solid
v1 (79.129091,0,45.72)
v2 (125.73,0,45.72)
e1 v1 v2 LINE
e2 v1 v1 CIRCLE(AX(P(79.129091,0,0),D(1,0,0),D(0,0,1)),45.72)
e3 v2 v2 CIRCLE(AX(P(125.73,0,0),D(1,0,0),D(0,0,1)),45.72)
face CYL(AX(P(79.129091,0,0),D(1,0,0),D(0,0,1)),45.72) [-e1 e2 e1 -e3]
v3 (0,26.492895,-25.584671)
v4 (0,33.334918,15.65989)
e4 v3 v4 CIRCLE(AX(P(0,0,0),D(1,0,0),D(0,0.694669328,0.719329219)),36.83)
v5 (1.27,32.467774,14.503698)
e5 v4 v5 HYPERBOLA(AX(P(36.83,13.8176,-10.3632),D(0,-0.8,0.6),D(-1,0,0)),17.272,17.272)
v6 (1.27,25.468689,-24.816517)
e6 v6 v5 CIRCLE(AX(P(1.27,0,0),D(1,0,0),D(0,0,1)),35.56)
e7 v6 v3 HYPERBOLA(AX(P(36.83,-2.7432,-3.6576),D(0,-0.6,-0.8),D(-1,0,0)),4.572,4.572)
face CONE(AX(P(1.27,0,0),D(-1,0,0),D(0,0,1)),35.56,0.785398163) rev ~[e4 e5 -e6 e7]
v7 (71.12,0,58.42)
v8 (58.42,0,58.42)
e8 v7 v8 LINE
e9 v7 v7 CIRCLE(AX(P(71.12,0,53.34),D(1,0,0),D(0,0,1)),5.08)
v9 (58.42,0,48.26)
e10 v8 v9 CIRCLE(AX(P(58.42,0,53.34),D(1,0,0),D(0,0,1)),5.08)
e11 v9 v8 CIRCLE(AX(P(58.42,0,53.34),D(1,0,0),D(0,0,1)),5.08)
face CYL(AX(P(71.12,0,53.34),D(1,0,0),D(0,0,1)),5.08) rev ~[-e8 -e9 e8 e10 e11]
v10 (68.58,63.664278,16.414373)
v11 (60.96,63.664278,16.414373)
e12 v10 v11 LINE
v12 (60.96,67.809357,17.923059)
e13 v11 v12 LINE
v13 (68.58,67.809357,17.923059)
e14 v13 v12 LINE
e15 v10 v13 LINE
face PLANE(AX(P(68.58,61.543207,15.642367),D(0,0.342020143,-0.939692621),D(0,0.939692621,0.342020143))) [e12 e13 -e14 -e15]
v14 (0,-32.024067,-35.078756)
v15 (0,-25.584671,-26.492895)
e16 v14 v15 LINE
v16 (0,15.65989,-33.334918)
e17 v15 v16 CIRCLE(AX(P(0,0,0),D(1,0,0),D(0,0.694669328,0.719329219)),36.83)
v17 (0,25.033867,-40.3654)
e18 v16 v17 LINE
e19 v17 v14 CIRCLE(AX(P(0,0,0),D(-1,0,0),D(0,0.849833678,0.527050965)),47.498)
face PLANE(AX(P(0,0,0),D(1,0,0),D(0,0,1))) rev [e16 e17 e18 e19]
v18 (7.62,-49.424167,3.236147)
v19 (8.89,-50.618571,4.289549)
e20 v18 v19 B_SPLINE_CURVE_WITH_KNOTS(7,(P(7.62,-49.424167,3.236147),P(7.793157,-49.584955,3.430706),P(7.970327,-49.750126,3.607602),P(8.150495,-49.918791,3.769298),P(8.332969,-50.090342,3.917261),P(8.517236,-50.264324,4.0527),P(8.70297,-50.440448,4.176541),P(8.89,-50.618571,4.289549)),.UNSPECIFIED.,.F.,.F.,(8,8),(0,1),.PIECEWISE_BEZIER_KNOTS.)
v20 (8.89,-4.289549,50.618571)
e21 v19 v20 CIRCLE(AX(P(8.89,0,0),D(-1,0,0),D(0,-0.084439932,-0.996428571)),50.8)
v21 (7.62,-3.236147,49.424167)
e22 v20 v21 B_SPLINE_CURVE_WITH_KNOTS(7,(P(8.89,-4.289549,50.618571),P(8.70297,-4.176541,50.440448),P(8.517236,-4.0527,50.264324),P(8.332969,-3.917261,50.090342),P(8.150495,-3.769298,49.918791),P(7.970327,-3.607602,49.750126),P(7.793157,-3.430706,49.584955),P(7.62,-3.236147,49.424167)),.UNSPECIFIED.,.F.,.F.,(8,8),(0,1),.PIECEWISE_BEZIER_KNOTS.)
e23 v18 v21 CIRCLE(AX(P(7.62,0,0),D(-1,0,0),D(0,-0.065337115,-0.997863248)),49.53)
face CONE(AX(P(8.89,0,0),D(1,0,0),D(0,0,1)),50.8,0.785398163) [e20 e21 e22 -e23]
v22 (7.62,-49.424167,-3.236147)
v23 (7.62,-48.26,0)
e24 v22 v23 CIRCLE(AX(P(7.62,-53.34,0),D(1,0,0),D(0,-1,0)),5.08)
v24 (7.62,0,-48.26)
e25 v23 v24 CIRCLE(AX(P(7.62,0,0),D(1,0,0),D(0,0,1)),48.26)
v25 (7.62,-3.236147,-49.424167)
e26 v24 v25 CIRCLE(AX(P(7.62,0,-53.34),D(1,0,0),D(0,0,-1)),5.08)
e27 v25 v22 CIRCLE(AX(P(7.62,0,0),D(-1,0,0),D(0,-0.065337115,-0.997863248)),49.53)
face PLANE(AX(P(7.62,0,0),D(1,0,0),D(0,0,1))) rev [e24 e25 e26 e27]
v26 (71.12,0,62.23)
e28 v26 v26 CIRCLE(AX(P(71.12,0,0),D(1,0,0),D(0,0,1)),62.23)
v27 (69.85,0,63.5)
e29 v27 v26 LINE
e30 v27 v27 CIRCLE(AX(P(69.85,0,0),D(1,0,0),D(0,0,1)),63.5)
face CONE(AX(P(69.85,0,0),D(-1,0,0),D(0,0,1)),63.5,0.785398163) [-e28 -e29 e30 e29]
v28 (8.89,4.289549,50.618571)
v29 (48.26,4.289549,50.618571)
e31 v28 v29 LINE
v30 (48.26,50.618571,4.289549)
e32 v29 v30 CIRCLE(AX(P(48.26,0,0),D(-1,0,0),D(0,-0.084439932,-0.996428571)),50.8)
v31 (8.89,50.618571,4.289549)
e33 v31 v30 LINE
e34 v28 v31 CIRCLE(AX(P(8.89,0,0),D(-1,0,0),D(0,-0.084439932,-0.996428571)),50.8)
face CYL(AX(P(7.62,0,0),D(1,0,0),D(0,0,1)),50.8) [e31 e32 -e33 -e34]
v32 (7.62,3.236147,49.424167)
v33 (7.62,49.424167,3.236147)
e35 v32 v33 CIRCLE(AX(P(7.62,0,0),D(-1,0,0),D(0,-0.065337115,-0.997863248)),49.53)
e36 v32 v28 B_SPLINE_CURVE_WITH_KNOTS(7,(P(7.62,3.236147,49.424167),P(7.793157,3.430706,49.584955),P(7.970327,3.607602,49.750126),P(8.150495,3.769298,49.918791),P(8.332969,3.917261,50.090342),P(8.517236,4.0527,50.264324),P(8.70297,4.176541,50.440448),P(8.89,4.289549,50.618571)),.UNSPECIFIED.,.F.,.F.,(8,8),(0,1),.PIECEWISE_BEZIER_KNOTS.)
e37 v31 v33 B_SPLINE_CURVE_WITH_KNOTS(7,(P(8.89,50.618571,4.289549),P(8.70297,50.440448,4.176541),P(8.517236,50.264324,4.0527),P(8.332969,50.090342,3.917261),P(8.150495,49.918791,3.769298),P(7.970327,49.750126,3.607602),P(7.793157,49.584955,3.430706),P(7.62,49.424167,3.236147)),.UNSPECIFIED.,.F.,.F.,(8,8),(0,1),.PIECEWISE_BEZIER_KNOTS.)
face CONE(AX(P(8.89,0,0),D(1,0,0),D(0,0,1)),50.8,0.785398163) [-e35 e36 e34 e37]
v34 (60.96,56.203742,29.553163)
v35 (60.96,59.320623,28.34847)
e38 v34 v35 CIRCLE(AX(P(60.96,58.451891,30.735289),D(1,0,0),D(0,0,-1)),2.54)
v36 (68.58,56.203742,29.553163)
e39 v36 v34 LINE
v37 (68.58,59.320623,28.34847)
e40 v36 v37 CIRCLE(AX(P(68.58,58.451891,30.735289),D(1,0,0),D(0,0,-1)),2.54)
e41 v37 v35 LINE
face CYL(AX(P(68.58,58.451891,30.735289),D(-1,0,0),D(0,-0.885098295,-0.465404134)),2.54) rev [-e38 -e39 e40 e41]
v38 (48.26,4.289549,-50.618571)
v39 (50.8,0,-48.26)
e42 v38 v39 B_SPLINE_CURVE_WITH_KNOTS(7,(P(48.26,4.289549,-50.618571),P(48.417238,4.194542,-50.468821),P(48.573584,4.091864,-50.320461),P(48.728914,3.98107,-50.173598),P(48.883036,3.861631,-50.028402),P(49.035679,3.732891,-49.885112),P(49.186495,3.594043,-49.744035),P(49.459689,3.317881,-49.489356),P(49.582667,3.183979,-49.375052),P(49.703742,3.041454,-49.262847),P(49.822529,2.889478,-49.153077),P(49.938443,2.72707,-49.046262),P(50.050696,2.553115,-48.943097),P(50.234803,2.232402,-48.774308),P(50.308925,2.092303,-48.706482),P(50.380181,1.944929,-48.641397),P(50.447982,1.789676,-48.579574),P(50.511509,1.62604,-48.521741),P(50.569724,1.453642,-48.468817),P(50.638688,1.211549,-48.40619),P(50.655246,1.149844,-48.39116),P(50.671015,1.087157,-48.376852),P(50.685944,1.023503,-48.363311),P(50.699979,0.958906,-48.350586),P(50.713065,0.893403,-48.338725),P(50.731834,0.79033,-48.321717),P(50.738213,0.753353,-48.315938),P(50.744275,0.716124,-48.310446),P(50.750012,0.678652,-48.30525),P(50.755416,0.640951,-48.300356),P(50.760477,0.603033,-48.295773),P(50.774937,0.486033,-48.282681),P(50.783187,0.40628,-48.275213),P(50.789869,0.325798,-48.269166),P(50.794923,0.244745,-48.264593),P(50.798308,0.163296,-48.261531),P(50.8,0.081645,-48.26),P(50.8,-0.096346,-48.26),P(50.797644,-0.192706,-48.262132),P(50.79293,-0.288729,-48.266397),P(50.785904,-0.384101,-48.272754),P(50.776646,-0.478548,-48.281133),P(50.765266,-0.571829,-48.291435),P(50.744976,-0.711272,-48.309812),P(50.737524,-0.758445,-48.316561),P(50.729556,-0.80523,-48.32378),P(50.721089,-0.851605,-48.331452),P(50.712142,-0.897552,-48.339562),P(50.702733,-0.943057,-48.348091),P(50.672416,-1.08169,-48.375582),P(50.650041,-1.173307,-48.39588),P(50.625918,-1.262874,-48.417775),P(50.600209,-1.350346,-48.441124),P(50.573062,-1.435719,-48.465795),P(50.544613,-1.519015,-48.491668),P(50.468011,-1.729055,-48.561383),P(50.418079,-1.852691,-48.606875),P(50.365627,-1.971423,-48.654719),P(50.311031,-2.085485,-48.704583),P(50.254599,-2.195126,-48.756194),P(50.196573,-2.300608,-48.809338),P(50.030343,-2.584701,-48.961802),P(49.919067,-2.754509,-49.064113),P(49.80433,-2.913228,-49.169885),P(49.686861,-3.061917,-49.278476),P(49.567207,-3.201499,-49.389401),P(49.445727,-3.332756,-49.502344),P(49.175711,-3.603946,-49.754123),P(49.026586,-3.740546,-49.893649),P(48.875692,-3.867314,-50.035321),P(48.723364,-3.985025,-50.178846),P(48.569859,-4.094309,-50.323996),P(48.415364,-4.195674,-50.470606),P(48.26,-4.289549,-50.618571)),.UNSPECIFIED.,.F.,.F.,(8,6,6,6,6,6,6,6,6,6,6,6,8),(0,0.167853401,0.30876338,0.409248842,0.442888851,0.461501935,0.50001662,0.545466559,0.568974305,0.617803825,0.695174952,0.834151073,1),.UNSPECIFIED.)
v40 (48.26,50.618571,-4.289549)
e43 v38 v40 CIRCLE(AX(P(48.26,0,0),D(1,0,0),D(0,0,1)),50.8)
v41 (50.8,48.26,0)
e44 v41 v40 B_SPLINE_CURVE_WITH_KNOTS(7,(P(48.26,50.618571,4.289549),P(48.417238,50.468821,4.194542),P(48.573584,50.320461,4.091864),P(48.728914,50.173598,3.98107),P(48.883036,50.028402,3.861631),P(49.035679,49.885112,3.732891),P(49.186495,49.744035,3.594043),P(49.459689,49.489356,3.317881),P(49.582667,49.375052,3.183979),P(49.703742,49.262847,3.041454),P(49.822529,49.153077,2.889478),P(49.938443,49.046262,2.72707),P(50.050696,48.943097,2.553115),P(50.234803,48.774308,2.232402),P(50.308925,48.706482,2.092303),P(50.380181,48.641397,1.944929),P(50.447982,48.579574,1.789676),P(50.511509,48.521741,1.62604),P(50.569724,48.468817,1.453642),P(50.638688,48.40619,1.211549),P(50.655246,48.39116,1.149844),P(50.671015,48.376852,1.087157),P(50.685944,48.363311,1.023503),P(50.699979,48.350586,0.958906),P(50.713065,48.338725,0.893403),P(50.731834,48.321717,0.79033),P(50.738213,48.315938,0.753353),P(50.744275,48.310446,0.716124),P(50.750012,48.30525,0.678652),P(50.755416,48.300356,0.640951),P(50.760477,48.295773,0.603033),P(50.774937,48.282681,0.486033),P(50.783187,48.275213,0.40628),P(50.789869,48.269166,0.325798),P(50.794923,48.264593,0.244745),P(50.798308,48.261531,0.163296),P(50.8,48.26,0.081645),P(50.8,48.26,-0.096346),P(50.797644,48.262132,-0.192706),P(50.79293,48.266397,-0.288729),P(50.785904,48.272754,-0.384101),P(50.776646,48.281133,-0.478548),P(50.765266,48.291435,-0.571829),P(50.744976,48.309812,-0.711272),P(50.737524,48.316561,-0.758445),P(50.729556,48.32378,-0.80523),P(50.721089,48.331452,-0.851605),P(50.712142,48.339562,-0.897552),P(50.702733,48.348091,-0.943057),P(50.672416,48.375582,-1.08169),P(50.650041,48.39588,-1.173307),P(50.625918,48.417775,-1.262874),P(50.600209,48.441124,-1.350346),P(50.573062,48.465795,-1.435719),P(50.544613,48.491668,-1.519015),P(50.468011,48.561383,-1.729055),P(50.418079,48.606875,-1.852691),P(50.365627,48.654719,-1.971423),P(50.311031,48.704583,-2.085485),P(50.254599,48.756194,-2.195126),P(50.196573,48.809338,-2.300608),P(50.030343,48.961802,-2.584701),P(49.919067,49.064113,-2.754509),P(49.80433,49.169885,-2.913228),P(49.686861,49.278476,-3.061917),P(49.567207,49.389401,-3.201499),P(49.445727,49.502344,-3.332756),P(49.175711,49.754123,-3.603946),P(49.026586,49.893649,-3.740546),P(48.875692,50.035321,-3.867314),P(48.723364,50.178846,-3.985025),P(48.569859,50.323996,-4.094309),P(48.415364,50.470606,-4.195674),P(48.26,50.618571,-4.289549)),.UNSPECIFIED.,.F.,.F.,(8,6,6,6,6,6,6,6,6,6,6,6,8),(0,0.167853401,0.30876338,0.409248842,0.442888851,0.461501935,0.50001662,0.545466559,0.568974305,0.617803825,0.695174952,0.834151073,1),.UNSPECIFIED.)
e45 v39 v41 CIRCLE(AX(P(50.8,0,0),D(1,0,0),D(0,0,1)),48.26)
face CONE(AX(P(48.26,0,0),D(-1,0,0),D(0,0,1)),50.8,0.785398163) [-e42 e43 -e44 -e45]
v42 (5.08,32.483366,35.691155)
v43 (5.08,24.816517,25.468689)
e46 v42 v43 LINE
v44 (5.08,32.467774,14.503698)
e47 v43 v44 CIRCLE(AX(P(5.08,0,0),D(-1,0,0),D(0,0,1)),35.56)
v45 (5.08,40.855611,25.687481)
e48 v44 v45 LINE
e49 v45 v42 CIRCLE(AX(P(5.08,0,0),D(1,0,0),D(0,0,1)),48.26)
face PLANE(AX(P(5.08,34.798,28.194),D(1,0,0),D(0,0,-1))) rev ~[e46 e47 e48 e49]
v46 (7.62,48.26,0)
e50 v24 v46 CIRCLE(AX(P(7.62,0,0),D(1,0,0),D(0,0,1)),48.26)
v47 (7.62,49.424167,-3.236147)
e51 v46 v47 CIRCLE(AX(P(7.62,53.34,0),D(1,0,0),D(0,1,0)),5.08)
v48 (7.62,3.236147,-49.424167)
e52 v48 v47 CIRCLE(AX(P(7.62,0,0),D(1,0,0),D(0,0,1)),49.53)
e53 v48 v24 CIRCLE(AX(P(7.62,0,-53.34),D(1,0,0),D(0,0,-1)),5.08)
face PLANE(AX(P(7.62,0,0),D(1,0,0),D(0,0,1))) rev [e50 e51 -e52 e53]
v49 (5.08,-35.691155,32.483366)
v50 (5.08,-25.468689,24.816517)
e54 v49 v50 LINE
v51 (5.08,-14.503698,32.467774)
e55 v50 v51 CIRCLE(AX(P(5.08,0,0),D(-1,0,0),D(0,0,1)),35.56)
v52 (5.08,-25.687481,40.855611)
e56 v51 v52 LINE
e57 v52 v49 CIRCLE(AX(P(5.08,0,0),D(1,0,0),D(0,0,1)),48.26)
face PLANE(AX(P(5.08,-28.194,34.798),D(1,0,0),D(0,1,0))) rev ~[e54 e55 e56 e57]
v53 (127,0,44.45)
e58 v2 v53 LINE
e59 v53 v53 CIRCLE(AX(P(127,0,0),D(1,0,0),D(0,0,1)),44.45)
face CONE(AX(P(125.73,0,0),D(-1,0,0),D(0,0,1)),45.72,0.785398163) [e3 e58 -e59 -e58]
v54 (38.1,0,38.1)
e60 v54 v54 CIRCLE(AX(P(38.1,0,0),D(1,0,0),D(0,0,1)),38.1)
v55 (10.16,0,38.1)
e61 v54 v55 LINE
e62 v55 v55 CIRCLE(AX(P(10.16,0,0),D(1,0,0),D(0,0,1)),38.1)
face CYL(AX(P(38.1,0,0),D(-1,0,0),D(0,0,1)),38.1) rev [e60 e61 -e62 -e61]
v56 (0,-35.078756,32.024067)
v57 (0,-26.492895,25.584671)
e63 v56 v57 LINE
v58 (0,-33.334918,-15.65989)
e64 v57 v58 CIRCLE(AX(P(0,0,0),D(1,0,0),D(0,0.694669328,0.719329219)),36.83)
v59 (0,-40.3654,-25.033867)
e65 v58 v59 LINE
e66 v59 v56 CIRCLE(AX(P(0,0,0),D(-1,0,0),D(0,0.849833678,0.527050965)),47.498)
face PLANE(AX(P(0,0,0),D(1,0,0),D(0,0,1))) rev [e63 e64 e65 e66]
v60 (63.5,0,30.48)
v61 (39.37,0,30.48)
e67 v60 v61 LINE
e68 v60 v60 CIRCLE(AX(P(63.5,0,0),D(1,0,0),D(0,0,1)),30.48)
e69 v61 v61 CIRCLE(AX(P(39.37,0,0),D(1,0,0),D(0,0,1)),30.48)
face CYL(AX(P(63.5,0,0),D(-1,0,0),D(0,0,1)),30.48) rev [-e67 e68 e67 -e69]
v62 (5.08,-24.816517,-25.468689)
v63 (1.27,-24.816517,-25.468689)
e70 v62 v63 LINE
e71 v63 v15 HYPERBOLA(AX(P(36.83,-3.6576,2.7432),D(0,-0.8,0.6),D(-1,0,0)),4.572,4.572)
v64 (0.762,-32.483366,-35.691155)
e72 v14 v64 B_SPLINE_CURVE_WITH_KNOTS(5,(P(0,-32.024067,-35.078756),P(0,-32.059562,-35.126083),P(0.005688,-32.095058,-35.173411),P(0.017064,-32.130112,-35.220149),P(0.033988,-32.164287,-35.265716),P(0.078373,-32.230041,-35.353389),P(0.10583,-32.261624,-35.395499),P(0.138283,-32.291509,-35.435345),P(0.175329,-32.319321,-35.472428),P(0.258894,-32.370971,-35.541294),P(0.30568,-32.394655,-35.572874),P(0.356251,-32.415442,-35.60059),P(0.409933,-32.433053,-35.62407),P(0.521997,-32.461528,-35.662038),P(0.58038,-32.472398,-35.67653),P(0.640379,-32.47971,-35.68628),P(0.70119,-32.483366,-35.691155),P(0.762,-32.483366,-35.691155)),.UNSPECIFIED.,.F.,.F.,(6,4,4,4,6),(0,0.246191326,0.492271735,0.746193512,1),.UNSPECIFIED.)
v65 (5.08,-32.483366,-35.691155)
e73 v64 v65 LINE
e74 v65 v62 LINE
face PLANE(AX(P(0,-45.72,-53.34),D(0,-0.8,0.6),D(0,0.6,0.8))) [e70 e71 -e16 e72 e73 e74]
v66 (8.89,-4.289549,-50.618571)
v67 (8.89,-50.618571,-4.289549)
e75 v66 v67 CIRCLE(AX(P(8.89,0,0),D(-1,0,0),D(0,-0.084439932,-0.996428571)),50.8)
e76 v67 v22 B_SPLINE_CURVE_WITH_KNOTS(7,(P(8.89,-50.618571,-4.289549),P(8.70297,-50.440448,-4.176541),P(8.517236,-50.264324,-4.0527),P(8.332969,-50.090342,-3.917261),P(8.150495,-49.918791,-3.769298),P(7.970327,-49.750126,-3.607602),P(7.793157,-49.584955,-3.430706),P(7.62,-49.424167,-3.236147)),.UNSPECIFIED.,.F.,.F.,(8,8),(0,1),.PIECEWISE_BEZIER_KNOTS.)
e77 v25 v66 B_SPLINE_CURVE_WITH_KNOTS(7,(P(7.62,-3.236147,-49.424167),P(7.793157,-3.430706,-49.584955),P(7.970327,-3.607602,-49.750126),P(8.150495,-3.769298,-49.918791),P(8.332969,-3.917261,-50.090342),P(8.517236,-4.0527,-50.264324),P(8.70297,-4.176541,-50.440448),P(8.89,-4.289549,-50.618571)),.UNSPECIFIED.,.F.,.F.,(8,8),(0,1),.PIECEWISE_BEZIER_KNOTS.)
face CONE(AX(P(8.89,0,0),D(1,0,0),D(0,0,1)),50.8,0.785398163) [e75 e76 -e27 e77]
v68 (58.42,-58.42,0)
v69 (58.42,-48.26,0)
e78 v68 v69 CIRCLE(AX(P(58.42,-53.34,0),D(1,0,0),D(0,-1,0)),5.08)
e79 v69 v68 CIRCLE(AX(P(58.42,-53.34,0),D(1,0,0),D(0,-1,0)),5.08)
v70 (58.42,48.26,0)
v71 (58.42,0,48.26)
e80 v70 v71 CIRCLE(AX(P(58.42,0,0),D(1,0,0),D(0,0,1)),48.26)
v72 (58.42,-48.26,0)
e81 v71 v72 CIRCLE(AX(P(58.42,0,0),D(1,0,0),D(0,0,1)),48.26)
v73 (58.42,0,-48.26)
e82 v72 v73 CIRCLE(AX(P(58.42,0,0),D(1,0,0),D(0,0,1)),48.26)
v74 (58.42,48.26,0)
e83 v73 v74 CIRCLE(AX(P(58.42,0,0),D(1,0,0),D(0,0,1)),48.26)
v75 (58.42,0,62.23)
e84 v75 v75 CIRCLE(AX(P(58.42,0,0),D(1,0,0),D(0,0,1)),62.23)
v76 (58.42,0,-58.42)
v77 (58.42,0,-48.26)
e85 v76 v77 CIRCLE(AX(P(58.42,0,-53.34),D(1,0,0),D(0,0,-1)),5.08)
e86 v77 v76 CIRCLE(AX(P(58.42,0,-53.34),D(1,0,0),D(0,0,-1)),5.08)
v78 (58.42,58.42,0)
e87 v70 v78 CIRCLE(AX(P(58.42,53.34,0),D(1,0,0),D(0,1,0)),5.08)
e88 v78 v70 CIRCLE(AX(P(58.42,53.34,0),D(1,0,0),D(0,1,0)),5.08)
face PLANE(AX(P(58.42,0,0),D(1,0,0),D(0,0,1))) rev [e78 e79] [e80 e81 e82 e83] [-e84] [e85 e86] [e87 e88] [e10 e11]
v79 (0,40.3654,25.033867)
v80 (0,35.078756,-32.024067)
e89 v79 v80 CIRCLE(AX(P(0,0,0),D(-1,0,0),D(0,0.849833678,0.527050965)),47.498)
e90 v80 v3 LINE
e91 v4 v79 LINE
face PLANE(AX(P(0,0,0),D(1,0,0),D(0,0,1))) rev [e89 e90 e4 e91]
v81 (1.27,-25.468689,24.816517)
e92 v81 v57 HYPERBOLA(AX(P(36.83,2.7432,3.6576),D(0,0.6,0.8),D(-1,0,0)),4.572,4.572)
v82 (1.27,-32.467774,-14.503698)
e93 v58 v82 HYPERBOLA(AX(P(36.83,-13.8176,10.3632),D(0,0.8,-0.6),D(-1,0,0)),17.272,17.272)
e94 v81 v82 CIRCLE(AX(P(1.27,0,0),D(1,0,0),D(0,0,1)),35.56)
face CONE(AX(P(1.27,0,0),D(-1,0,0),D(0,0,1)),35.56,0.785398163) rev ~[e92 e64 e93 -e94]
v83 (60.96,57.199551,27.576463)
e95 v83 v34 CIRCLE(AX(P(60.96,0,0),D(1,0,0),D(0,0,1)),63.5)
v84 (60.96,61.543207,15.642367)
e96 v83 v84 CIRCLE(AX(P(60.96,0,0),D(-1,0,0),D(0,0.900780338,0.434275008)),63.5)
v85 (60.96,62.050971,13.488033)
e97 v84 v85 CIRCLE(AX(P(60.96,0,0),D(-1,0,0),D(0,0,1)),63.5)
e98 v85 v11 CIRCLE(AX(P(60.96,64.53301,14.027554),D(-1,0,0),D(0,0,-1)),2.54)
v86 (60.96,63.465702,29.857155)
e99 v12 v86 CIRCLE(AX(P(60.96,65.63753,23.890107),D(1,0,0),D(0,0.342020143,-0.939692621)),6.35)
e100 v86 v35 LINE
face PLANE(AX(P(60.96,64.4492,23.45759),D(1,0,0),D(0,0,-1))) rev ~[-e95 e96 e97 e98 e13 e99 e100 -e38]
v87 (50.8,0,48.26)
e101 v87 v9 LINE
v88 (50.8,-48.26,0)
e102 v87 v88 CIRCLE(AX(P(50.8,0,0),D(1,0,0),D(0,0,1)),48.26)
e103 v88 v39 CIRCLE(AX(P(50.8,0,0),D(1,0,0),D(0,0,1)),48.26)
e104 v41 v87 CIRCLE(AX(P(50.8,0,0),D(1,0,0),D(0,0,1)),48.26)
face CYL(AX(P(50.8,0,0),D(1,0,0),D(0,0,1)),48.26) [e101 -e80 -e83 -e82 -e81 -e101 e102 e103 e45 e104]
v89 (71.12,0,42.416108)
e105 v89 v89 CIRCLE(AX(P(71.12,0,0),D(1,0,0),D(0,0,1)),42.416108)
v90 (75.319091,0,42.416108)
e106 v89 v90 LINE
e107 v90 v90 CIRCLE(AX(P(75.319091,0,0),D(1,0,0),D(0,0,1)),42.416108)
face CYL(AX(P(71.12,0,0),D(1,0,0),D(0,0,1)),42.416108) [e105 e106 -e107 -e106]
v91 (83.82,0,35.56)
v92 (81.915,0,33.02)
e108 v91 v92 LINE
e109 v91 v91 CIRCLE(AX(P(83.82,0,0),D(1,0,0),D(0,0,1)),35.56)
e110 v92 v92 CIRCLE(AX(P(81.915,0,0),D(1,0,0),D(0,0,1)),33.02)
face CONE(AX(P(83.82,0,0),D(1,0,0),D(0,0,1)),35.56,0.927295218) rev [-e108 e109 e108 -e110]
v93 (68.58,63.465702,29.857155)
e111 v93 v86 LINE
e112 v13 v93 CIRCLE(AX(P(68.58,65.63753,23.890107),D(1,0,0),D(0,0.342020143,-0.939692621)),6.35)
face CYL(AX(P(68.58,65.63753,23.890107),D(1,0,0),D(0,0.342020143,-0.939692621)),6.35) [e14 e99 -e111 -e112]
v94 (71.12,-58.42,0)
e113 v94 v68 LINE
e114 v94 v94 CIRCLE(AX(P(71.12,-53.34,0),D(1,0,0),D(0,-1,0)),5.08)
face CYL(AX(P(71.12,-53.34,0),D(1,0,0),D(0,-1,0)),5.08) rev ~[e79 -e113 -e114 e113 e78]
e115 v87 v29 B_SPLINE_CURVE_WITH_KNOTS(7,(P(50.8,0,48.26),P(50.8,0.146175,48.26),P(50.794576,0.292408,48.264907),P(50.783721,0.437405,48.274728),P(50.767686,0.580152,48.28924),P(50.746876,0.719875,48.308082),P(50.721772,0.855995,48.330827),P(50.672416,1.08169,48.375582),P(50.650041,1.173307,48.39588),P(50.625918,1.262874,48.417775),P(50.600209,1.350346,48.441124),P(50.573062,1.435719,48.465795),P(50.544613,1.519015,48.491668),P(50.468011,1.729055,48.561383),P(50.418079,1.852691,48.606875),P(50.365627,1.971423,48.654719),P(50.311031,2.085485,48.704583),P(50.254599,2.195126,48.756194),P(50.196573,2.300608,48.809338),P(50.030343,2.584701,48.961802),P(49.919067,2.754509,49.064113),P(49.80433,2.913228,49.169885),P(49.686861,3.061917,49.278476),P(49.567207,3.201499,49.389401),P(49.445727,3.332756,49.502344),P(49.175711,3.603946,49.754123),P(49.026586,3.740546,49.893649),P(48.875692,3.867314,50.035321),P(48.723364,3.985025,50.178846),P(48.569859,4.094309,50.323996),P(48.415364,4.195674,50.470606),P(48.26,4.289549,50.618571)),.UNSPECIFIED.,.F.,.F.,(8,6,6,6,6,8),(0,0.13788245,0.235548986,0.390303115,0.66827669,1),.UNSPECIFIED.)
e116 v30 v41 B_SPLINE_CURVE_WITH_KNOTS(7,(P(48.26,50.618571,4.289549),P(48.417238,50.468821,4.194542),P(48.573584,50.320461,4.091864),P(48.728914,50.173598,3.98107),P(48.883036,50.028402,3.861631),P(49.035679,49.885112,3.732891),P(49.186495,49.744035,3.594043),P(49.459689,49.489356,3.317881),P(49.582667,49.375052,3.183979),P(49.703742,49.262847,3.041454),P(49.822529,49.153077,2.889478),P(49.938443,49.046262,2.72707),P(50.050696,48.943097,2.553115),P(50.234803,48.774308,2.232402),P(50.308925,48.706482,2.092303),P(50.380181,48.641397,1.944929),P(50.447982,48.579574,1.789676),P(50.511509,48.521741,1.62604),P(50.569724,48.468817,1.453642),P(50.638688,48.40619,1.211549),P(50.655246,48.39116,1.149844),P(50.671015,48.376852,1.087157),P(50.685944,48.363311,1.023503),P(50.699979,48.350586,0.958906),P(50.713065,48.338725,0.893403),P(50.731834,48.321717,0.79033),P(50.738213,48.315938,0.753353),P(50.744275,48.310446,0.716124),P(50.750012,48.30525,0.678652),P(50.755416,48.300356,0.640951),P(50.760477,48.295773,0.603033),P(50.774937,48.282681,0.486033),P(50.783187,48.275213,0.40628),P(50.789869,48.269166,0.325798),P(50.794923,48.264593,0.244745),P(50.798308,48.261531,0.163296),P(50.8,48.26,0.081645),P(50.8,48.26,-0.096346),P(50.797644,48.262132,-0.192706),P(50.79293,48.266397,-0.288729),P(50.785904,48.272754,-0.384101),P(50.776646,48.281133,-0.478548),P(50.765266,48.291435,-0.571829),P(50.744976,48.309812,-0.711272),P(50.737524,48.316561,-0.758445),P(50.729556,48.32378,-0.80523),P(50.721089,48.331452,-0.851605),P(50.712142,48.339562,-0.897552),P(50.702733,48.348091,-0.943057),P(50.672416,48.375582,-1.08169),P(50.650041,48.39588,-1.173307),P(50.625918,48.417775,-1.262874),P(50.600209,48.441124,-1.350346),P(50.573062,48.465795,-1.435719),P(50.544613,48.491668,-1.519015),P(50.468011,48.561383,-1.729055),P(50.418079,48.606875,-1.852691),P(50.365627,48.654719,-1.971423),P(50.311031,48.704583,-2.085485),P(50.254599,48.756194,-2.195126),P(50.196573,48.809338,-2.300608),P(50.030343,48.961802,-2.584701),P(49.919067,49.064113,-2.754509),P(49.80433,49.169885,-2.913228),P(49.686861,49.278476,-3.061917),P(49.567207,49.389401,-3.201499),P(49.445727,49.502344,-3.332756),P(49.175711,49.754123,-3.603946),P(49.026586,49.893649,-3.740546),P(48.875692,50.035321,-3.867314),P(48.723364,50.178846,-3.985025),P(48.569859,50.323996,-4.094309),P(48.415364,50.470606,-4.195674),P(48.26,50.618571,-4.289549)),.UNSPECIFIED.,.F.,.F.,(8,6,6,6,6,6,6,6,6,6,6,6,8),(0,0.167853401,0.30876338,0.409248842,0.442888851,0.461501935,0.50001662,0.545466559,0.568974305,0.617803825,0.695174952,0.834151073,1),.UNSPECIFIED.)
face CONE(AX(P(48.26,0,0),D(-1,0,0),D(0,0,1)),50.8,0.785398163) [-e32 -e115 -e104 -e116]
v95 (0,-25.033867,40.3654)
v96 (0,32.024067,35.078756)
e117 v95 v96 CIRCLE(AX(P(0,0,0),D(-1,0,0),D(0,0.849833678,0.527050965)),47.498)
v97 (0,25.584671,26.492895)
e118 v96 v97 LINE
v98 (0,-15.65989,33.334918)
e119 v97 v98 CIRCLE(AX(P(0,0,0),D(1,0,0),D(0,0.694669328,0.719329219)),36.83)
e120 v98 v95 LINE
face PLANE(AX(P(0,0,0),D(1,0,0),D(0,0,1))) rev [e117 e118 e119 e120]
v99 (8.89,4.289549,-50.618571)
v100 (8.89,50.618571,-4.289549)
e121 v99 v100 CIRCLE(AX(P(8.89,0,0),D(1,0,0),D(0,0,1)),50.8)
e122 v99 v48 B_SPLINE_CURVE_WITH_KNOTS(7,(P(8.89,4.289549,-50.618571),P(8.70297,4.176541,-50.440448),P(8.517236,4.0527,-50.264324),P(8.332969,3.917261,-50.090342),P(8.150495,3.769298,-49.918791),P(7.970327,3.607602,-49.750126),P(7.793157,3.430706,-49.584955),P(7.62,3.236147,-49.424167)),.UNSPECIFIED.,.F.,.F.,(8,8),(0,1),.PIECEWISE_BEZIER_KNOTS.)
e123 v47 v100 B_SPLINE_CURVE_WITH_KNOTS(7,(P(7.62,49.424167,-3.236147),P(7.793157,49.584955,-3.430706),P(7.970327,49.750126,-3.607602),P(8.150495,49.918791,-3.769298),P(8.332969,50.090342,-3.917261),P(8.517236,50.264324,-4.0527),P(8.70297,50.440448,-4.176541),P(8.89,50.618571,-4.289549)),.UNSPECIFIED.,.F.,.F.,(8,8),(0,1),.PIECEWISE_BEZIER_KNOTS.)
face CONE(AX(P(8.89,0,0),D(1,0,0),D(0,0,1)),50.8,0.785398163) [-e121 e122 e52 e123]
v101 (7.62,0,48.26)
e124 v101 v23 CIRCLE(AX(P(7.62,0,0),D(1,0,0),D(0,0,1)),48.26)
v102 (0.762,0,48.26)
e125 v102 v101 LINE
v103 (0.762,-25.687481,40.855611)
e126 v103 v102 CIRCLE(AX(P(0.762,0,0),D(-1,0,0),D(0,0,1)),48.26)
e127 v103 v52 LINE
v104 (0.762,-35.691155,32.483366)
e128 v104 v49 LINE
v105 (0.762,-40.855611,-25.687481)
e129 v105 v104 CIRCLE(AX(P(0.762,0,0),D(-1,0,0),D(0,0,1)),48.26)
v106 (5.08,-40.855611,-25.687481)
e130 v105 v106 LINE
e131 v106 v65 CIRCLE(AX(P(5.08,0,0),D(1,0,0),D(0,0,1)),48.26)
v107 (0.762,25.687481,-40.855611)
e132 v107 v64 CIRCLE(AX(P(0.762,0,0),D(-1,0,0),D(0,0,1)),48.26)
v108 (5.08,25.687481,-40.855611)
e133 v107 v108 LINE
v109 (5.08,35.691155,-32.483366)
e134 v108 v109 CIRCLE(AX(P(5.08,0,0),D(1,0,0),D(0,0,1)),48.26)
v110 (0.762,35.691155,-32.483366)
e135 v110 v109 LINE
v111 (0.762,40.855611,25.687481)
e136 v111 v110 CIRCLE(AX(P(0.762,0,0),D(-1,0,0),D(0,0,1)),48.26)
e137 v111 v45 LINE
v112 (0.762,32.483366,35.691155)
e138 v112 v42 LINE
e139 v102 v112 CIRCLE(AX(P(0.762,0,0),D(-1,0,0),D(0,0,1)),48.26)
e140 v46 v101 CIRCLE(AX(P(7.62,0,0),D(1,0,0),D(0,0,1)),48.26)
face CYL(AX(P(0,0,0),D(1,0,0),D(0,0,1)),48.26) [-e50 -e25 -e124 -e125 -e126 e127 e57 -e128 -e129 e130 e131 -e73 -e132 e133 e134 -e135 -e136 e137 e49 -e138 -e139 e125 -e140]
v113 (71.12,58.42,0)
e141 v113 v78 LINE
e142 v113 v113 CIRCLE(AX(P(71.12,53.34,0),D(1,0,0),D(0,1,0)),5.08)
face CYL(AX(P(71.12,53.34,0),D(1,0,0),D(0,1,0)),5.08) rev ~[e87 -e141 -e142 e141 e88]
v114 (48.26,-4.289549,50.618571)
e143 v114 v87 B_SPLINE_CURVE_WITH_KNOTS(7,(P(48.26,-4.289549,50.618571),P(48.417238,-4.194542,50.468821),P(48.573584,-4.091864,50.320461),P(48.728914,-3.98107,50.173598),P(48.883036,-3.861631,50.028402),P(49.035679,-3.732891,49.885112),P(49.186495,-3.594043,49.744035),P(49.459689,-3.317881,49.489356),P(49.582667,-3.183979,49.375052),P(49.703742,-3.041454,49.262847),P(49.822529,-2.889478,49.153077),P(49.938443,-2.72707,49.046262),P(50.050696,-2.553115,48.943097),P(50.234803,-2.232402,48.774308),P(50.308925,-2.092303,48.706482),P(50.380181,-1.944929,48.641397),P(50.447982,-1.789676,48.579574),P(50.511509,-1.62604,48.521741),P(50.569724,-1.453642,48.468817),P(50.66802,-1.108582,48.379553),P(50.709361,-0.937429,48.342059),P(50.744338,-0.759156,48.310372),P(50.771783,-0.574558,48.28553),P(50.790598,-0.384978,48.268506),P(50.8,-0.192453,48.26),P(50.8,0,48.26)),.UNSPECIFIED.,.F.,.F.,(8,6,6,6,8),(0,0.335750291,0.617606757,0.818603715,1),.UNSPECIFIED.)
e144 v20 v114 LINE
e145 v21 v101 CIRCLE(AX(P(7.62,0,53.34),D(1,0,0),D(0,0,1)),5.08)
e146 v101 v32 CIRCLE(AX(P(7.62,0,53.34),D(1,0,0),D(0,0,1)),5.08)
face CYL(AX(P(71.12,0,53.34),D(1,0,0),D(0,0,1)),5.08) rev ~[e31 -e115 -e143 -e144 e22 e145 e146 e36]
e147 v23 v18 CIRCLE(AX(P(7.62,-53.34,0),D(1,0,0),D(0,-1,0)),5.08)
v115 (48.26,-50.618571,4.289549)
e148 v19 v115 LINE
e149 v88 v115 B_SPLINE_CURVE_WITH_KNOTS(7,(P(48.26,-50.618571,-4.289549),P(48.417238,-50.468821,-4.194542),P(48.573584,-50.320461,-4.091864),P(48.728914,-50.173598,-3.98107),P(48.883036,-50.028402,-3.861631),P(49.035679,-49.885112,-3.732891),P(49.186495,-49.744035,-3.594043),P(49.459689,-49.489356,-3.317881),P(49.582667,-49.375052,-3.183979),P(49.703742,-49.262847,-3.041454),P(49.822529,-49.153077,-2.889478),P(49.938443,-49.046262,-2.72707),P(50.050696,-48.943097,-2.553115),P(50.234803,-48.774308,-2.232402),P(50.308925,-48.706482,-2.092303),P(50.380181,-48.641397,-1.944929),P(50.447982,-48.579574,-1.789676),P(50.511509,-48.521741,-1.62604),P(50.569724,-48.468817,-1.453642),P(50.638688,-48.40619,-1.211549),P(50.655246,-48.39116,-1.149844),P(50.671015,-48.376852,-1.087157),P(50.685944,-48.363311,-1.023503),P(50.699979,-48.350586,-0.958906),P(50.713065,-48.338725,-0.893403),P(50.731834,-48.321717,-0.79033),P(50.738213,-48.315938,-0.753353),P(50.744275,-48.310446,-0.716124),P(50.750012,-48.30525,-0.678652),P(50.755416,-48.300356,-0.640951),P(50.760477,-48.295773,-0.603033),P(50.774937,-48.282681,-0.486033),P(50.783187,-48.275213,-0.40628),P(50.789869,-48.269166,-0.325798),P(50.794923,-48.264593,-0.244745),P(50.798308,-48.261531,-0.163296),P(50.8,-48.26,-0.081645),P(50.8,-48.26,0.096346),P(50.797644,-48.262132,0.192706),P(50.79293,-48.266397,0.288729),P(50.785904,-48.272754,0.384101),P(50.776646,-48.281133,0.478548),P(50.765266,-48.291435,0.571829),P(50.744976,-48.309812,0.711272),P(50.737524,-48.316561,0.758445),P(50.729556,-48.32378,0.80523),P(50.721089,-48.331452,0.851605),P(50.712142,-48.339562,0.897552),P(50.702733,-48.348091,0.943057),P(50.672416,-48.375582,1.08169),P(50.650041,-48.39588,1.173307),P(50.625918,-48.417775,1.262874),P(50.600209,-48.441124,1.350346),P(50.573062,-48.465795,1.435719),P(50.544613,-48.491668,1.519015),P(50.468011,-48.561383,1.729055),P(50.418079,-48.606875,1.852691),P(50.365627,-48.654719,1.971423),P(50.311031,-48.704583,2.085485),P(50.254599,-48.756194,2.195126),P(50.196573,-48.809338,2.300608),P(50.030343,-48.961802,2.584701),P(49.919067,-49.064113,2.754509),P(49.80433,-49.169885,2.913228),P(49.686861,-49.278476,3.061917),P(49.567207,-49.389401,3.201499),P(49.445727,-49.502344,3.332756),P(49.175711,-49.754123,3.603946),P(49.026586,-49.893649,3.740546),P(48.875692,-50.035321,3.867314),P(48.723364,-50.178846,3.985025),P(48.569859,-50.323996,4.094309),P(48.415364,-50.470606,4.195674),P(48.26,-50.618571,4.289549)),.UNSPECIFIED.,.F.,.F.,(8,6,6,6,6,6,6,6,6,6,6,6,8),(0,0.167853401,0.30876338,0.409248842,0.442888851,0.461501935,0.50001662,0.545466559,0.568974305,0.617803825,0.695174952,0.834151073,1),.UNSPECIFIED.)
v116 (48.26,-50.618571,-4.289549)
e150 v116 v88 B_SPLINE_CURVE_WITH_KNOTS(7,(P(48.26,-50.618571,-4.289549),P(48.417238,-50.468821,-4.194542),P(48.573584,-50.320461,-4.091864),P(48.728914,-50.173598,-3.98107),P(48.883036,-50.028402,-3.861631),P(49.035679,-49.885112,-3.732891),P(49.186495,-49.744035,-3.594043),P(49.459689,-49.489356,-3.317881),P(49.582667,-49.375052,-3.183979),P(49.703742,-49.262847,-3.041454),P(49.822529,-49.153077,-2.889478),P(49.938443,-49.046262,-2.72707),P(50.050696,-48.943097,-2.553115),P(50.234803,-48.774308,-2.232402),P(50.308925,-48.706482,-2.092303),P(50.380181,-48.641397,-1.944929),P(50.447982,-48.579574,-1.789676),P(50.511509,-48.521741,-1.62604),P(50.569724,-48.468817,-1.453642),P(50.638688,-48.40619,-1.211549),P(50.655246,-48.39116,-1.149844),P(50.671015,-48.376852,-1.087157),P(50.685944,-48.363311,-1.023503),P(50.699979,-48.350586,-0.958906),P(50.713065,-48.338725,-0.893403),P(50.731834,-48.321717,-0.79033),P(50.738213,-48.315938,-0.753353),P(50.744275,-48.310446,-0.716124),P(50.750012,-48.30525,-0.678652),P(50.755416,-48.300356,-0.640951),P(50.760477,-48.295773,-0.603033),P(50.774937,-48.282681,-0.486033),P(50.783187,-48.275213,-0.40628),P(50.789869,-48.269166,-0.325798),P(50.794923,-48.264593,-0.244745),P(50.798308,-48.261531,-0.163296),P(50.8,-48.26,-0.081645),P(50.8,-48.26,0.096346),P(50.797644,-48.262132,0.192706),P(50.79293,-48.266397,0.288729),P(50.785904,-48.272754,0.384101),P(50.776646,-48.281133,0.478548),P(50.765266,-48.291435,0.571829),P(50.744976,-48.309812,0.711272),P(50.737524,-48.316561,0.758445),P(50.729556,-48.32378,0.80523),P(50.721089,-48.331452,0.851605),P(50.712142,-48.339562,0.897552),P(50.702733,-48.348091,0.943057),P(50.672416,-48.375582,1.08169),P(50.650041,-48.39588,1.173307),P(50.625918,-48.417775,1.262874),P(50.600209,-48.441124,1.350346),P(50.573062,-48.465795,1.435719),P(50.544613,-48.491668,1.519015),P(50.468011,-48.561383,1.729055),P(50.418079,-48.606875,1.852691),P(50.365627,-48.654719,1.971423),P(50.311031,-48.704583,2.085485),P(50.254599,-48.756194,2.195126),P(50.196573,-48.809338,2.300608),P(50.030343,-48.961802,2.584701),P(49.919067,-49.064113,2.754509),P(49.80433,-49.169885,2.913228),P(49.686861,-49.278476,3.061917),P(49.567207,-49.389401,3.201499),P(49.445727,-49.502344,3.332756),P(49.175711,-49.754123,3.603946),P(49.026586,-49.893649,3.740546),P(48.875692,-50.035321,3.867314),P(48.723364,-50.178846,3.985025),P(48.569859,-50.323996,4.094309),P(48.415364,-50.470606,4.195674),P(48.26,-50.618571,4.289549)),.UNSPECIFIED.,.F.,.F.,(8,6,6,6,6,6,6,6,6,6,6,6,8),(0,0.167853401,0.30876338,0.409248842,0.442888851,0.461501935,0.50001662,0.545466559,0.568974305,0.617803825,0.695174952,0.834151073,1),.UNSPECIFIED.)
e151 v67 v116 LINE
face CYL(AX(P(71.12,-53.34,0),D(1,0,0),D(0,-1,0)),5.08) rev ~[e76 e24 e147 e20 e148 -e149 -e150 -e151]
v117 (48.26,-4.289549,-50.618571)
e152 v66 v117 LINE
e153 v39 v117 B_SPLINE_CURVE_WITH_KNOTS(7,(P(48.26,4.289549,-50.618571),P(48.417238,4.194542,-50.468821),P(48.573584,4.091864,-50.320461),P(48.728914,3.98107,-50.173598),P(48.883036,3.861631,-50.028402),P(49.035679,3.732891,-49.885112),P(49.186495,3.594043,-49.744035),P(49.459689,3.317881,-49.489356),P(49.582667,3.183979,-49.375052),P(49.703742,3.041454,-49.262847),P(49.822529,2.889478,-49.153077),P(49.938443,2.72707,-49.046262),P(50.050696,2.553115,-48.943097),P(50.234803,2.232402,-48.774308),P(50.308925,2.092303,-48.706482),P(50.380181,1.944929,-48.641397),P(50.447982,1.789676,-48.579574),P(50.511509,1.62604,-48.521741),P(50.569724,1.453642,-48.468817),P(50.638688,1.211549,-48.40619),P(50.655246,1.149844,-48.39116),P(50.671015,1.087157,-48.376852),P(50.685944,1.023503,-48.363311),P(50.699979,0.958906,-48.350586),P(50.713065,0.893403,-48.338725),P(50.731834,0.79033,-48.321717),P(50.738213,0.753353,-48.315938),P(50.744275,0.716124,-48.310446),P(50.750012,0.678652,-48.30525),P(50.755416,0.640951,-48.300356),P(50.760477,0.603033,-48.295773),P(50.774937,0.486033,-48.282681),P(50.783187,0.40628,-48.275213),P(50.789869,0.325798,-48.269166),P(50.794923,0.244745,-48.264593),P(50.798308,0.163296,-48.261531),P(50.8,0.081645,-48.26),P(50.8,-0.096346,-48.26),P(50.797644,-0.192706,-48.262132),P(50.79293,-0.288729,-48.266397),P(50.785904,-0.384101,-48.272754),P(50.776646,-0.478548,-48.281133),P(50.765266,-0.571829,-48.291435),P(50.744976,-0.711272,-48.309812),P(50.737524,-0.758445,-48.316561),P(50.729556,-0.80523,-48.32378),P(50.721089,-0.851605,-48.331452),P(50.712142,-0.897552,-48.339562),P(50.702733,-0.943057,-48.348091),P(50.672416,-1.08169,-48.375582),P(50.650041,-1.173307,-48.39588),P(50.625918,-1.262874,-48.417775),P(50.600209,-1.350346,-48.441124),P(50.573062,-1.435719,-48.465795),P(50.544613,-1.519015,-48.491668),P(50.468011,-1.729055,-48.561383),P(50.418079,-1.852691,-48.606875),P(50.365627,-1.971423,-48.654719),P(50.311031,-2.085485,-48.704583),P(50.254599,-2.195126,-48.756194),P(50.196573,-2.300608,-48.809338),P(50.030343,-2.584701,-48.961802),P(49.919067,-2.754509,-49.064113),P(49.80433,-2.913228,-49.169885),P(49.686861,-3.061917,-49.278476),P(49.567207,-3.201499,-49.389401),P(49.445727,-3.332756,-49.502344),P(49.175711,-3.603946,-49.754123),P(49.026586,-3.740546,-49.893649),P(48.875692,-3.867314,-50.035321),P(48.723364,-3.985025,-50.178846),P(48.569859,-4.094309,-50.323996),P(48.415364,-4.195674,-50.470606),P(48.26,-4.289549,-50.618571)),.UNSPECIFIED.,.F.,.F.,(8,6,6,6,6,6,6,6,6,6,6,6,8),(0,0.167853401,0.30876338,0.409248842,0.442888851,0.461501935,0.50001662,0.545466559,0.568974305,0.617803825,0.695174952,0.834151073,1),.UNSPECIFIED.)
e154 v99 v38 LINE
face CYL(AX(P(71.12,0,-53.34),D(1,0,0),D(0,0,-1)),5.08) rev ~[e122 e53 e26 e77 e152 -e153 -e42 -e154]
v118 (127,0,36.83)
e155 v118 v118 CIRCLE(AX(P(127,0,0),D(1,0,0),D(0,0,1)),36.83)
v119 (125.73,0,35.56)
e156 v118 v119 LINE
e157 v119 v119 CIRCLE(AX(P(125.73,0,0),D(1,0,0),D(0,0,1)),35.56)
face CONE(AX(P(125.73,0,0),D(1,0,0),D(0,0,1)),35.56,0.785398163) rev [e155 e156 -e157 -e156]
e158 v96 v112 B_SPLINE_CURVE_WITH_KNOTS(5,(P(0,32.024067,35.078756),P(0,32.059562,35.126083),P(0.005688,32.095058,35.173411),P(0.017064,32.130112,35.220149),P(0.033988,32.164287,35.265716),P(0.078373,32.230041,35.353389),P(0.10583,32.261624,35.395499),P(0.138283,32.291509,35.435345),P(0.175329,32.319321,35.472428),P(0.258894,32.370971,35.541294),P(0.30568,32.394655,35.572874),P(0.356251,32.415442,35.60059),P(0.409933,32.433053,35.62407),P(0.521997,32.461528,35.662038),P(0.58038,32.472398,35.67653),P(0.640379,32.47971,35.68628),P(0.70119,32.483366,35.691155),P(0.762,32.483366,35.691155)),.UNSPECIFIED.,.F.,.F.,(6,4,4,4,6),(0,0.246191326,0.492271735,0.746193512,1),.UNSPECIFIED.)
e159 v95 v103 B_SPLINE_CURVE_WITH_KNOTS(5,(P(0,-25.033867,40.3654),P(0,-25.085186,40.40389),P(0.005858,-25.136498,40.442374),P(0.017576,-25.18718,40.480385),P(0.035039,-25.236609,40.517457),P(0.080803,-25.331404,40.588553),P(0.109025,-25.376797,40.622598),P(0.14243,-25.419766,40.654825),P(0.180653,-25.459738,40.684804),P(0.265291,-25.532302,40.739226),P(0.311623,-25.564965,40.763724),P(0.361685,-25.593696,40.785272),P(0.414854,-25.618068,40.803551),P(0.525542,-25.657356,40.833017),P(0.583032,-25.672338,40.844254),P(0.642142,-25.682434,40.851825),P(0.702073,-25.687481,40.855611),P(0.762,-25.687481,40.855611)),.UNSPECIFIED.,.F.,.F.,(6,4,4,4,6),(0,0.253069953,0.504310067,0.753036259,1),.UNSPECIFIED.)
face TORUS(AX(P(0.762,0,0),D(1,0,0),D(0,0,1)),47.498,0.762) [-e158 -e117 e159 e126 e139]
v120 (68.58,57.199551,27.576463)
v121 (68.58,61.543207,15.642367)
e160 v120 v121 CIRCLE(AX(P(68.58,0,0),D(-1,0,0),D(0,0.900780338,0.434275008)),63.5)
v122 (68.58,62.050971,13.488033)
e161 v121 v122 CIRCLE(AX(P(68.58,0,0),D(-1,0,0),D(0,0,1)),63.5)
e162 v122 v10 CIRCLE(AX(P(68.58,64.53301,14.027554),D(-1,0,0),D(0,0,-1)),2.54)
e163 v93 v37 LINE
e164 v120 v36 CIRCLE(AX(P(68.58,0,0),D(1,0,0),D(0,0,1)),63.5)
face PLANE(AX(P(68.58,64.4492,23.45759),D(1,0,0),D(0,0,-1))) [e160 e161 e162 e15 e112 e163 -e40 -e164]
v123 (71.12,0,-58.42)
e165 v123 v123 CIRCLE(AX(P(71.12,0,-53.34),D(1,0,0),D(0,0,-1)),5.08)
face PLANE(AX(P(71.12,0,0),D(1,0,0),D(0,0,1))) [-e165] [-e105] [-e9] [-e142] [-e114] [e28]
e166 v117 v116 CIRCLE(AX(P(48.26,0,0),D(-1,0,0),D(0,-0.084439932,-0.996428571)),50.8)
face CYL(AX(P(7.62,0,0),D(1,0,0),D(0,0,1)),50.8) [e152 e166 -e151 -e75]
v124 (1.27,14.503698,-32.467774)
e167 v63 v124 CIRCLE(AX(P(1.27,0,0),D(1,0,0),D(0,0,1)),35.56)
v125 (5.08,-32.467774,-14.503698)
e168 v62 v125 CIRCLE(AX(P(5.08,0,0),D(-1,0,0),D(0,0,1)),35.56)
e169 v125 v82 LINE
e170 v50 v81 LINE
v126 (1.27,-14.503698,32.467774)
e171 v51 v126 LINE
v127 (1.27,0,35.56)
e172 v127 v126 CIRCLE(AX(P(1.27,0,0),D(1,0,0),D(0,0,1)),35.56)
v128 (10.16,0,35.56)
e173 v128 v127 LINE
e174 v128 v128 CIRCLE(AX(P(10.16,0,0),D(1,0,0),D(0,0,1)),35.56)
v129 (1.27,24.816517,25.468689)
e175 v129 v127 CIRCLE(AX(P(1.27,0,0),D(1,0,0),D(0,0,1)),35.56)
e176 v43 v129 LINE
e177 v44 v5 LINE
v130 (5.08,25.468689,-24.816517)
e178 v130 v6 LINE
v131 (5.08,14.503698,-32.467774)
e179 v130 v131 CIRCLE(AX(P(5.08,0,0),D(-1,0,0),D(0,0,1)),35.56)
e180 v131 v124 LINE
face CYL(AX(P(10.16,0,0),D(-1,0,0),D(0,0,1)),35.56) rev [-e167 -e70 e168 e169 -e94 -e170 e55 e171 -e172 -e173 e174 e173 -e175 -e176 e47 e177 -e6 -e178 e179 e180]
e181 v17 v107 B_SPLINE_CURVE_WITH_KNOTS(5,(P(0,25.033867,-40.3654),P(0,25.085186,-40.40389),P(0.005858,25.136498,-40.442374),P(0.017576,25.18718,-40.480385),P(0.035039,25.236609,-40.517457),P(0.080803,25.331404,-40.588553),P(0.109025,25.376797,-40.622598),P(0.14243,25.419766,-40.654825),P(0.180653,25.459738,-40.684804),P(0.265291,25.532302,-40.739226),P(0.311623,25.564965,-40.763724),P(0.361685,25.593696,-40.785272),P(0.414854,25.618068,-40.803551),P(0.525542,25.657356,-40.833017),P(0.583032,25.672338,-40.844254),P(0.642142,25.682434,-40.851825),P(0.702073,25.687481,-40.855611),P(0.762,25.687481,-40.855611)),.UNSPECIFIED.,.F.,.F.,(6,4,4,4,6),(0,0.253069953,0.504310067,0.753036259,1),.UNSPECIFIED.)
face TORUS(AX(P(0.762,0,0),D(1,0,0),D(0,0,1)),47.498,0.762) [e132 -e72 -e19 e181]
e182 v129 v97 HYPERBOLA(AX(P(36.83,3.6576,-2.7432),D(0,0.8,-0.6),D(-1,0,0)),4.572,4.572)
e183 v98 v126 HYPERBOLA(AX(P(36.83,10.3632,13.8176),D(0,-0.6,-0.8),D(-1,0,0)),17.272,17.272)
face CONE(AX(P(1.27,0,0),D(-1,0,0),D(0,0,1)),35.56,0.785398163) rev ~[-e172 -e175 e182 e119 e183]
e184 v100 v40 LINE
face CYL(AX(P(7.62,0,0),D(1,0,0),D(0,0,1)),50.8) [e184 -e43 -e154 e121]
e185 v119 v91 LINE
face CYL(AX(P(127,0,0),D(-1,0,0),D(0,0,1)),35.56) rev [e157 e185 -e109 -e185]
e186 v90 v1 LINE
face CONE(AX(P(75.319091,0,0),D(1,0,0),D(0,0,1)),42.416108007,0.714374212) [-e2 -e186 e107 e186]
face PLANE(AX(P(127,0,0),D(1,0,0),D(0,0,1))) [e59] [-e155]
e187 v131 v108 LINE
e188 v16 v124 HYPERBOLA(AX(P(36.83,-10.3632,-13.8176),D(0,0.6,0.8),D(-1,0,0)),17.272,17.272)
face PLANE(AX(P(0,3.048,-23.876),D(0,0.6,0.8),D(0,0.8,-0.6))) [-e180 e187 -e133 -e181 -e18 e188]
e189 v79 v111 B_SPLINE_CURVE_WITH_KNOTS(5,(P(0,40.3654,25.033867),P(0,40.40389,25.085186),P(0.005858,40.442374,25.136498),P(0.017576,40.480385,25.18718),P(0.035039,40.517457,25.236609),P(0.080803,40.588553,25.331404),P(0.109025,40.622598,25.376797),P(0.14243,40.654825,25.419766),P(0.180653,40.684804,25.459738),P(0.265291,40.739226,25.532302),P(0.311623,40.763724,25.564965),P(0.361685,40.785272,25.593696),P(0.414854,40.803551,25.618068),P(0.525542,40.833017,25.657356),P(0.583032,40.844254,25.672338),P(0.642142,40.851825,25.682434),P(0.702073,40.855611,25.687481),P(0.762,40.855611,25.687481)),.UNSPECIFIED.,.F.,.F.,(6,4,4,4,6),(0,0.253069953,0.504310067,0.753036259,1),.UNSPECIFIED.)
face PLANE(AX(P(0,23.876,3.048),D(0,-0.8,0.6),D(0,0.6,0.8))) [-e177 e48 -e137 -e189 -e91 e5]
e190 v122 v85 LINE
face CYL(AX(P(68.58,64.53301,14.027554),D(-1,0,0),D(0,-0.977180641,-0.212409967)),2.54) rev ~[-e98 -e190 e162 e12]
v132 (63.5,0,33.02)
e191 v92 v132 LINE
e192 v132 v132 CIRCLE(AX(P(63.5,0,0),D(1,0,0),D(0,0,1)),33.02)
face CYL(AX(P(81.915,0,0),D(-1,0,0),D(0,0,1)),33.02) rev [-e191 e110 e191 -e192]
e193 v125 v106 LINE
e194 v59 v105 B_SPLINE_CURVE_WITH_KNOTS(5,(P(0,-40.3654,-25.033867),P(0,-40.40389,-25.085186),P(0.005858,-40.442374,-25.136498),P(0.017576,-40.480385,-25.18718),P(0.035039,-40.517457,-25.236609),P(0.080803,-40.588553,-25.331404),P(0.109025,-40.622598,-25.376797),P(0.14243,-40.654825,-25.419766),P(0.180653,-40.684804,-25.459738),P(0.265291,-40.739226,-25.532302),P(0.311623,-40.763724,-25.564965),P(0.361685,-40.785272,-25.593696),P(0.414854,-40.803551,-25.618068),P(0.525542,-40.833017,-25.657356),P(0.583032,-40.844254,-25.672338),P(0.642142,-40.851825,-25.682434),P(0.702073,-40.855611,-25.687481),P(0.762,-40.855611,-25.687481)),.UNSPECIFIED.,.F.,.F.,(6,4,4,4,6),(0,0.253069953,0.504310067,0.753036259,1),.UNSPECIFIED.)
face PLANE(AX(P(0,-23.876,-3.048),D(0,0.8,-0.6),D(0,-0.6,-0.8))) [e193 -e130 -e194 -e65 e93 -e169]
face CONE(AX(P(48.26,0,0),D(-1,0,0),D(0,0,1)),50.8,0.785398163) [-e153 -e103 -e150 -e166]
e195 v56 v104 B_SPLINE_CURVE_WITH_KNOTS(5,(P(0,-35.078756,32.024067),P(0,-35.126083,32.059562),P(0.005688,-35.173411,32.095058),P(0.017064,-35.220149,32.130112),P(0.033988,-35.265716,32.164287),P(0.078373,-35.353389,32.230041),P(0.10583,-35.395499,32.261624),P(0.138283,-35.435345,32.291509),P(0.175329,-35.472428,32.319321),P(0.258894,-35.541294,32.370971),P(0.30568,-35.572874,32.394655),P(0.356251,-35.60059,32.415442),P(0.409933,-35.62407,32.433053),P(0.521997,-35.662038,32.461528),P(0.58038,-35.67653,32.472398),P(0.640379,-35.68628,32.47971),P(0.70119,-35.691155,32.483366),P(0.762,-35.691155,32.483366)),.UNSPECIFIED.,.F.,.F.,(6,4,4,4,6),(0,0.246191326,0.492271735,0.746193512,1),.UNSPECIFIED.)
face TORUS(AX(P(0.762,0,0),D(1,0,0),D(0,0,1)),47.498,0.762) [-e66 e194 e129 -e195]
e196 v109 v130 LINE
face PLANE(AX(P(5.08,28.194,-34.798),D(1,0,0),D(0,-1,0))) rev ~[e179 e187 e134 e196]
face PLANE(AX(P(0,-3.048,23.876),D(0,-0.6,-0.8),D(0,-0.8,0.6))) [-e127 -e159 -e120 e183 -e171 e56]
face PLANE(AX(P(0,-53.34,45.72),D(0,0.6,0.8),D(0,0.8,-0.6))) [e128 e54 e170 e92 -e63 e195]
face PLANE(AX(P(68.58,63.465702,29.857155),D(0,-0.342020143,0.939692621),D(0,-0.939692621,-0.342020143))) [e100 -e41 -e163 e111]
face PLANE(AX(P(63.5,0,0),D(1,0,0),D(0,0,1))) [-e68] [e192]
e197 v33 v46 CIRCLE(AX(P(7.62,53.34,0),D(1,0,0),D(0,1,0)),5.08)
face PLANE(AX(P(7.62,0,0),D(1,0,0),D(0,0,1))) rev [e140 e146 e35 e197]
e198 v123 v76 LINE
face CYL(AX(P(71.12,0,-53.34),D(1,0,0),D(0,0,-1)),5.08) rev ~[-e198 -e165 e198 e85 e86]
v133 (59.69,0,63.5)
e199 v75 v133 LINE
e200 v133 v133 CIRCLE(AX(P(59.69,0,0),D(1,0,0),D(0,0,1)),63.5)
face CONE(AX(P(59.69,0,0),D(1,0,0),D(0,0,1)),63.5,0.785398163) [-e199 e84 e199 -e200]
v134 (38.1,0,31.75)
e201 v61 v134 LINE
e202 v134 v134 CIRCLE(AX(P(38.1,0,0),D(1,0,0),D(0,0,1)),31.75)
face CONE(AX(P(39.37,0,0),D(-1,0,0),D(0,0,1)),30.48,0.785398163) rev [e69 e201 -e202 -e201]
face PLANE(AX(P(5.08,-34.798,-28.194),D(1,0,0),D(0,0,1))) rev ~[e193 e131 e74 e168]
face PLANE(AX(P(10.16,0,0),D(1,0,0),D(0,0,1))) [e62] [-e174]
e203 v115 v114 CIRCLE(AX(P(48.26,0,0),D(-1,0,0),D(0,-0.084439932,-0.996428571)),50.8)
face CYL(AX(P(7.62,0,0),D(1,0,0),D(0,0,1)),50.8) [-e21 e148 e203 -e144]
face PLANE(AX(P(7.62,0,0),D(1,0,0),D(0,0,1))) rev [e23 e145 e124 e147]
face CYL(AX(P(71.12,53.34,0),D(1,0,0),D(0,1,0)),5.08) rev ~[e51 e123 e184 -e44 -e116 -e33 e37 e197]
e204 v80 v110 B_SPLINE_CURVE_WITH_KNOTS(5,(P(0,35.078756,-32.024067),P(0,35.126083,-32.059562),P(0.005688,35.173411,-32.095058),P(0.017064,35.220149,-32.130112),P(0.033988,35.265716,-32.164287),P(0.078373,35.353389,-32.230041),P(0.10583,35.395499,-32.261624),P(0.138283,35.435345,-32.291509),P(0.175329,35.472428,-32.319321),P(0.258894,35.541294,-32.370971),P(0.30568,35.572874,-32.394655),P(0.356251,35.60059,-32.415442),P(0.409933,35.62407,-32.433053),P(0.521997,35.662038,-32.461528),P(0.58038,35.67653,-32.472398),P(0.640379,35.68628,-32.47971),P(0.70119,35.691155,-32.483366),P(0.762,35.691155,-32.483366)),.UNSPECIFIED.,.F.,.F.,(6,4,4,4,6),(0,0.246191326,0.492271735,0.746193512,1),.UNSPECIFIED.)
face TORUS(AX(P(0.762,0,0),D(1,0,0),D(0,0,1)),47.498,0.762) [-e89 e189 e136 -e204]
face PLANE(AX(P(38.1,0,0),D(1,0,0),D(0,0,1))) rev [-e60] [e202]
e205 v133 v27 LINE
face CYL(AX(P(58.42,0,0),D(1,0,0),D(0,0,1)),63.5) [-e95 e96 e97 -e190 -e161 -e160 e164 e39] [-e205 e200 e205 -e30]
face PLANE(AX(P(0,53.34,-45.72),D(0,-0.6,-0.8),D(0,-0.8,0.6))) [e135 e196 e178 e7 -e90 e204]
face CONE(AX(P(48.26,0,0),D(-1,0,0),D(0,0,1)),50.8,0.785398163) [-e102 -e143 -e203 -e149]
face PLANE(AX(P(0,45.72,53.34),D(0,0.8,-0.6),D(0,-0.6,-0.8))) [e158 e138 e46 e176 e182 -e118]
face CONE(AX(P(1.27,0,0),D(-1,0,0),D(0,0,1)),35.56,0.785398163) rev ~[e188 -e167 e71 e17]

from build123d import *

# Parameters (mm, degrees)
CHAMFER1_SIZE       = 1.27
FILLET1_R           = 0.762
SKETCH2_R           = 5.08
CUT_EXTRUDE1_DEPTH  = 115.553718465
CIRPATTERN1_COUNT   = 4
CUT_EXTRUDE2_DEPTH  = 5.08
CIRPATTERN2_COUNT   = 4
BOSS_EXTRUDE1_DEPTH = 7.62
FILLET2_R           = 2.54


with BuildPart() as part:
    # Sketch1 → Base-Revolve (revolve)
    with BuildSketch(Plane.XY, mode=Mode.PRIVATE) as base_revolve_sk:
        Polygon((0, 35.56), (0, 48.26), (7.62, 48.26), (7.62, 50.8), (48.26, 50.8), (50.8, 48.26), (58.42, 48.26), (58.42, 63.5), (71.12, 63.5), (71.12, 42.416108007), (75.319090909, 42.416108007), (79.129090909, 45.72), (127, 45.72), (127, 35.56), (83.82, 35.56), (81.915, 33.02), (63.5, 33.02), (63.5, 30.48), (38.1, 30.48), (38.1, 38.1), (10.16, 38.1), (10.16, 35.56), align=None)
    revolve(base_revolve_sk.sketch.rotate(Axis((0, 0, 0), (1, 0, 0)), 90), axis=Axis((0, 0, 0), (1, 0, 0)))

    # Chamfer1
    chamfer1_edges = [part.edges().sort_by_distance(p)[0] for p in [
        (38.1, 0, -30.48),
        (127, 0, -35.56),
        (127, 0, -45.72),
        (71.12, 0, -63.5),
        (58.42, 0, -63.5),
        (7.62, 0, -50.8),
        (0, 0, -35.56),
    ]]
    chamfer(chamfer1_edges, length=CHAMFER1_SIZE)

    # Fillet1
    fillet1_edges = [part.edges().sort_by_distance(p)[0] for p in [
        (0, 0, -48.26),
    ]]
    fillet(fillet1_edges, radius=FILLET1_R)

    # Sketch2 → Cut-Extrude1 (cut, through all)
    with BuildSketch(Plane(origin=(71.12, 0, 0), x_dir=(0, 0, -1), z_dir=(1, 0, 0))):
        with Locations((53.34, 0)):
            Circle(SKETCH2_R)
    cut_extrude1 = extrude(amount=-CUT_EXTRUDE1_DEPTH, mode=Mode.SUBTRACT)

    # CirPattern1: Cut-Extrude1 ×4 about axis
    cirpattern1_axis = Axis((0, 0, 0), (1, 0, 0))
    for i in range(1, CIRPATTERN1_COUNT):
        add(cut_extrude1.rotate(cirpattern1_axis, i * 360 / CIRPATTERN1_COUNT), mode=Mode.SUBTRACT)

    # Sketch5 → Cut-Extrude2 (cut)
    with BuildSketch(Plane.ZY):
        Polygon((45.72, 55.88), (53.34, 45.72), (10.668, 13.716), (3.048, 23.876), align=None)
    cut_extrude2 = extrude(amount=-CUT_EXTRUDE2_DEPTH, mode=Mode.SUBTRACT)

    # CirPattern2: Cut-Extrude2 ×4 about axis
    cirpattern2_axis = Axis((0, 0, 0), (1, 0, 0))
    for i in range(1, CIRPATTERN2_COUNT):
        add(cut_extrude2.rotate(cirpattern2_axis, i * 360 / CIRPATTERN2_COUNT), mode=Mode.SUBTRACT)

    # Sketch7 → Boss-Extrude1 (add)
    with BuildSketch(Plane(origin=(68.58, 0, 0), x_dir=(0, 0, -1), z_dir=(1, 0, 0))):
        with BuildLine():
            Line((-29.857155153, 63.465701652), (-27.576463003, 57.199551469))
            ThreePointArc((-27.576463003, 57.199551469), (-21.718279101, 59.67048142), (-15.642366719, 61.543207289))
            Line((-15.642366719, 61.543207289), (-17.923058869, 67.809357472))
            ThreePointArc((-17.923058869, 67.809357472), (-26.061934921, 71.604577704), (-29.857155153, 63.465701652))
        make_face()
    extrude(amount=-BOSS_EXTRUDE1_DEPTH)

    # Fillet2
    fillet2_edges = [part.edges().sort_by_distance(p)[0] for p in [
        (64.77, 61.543207289, 15.642366719),
        (64.77, 57.199551469, 27.576463003),
    ]]
    fillet(fillet2_edges, radius=FILLET2_R)


solid = part.part
